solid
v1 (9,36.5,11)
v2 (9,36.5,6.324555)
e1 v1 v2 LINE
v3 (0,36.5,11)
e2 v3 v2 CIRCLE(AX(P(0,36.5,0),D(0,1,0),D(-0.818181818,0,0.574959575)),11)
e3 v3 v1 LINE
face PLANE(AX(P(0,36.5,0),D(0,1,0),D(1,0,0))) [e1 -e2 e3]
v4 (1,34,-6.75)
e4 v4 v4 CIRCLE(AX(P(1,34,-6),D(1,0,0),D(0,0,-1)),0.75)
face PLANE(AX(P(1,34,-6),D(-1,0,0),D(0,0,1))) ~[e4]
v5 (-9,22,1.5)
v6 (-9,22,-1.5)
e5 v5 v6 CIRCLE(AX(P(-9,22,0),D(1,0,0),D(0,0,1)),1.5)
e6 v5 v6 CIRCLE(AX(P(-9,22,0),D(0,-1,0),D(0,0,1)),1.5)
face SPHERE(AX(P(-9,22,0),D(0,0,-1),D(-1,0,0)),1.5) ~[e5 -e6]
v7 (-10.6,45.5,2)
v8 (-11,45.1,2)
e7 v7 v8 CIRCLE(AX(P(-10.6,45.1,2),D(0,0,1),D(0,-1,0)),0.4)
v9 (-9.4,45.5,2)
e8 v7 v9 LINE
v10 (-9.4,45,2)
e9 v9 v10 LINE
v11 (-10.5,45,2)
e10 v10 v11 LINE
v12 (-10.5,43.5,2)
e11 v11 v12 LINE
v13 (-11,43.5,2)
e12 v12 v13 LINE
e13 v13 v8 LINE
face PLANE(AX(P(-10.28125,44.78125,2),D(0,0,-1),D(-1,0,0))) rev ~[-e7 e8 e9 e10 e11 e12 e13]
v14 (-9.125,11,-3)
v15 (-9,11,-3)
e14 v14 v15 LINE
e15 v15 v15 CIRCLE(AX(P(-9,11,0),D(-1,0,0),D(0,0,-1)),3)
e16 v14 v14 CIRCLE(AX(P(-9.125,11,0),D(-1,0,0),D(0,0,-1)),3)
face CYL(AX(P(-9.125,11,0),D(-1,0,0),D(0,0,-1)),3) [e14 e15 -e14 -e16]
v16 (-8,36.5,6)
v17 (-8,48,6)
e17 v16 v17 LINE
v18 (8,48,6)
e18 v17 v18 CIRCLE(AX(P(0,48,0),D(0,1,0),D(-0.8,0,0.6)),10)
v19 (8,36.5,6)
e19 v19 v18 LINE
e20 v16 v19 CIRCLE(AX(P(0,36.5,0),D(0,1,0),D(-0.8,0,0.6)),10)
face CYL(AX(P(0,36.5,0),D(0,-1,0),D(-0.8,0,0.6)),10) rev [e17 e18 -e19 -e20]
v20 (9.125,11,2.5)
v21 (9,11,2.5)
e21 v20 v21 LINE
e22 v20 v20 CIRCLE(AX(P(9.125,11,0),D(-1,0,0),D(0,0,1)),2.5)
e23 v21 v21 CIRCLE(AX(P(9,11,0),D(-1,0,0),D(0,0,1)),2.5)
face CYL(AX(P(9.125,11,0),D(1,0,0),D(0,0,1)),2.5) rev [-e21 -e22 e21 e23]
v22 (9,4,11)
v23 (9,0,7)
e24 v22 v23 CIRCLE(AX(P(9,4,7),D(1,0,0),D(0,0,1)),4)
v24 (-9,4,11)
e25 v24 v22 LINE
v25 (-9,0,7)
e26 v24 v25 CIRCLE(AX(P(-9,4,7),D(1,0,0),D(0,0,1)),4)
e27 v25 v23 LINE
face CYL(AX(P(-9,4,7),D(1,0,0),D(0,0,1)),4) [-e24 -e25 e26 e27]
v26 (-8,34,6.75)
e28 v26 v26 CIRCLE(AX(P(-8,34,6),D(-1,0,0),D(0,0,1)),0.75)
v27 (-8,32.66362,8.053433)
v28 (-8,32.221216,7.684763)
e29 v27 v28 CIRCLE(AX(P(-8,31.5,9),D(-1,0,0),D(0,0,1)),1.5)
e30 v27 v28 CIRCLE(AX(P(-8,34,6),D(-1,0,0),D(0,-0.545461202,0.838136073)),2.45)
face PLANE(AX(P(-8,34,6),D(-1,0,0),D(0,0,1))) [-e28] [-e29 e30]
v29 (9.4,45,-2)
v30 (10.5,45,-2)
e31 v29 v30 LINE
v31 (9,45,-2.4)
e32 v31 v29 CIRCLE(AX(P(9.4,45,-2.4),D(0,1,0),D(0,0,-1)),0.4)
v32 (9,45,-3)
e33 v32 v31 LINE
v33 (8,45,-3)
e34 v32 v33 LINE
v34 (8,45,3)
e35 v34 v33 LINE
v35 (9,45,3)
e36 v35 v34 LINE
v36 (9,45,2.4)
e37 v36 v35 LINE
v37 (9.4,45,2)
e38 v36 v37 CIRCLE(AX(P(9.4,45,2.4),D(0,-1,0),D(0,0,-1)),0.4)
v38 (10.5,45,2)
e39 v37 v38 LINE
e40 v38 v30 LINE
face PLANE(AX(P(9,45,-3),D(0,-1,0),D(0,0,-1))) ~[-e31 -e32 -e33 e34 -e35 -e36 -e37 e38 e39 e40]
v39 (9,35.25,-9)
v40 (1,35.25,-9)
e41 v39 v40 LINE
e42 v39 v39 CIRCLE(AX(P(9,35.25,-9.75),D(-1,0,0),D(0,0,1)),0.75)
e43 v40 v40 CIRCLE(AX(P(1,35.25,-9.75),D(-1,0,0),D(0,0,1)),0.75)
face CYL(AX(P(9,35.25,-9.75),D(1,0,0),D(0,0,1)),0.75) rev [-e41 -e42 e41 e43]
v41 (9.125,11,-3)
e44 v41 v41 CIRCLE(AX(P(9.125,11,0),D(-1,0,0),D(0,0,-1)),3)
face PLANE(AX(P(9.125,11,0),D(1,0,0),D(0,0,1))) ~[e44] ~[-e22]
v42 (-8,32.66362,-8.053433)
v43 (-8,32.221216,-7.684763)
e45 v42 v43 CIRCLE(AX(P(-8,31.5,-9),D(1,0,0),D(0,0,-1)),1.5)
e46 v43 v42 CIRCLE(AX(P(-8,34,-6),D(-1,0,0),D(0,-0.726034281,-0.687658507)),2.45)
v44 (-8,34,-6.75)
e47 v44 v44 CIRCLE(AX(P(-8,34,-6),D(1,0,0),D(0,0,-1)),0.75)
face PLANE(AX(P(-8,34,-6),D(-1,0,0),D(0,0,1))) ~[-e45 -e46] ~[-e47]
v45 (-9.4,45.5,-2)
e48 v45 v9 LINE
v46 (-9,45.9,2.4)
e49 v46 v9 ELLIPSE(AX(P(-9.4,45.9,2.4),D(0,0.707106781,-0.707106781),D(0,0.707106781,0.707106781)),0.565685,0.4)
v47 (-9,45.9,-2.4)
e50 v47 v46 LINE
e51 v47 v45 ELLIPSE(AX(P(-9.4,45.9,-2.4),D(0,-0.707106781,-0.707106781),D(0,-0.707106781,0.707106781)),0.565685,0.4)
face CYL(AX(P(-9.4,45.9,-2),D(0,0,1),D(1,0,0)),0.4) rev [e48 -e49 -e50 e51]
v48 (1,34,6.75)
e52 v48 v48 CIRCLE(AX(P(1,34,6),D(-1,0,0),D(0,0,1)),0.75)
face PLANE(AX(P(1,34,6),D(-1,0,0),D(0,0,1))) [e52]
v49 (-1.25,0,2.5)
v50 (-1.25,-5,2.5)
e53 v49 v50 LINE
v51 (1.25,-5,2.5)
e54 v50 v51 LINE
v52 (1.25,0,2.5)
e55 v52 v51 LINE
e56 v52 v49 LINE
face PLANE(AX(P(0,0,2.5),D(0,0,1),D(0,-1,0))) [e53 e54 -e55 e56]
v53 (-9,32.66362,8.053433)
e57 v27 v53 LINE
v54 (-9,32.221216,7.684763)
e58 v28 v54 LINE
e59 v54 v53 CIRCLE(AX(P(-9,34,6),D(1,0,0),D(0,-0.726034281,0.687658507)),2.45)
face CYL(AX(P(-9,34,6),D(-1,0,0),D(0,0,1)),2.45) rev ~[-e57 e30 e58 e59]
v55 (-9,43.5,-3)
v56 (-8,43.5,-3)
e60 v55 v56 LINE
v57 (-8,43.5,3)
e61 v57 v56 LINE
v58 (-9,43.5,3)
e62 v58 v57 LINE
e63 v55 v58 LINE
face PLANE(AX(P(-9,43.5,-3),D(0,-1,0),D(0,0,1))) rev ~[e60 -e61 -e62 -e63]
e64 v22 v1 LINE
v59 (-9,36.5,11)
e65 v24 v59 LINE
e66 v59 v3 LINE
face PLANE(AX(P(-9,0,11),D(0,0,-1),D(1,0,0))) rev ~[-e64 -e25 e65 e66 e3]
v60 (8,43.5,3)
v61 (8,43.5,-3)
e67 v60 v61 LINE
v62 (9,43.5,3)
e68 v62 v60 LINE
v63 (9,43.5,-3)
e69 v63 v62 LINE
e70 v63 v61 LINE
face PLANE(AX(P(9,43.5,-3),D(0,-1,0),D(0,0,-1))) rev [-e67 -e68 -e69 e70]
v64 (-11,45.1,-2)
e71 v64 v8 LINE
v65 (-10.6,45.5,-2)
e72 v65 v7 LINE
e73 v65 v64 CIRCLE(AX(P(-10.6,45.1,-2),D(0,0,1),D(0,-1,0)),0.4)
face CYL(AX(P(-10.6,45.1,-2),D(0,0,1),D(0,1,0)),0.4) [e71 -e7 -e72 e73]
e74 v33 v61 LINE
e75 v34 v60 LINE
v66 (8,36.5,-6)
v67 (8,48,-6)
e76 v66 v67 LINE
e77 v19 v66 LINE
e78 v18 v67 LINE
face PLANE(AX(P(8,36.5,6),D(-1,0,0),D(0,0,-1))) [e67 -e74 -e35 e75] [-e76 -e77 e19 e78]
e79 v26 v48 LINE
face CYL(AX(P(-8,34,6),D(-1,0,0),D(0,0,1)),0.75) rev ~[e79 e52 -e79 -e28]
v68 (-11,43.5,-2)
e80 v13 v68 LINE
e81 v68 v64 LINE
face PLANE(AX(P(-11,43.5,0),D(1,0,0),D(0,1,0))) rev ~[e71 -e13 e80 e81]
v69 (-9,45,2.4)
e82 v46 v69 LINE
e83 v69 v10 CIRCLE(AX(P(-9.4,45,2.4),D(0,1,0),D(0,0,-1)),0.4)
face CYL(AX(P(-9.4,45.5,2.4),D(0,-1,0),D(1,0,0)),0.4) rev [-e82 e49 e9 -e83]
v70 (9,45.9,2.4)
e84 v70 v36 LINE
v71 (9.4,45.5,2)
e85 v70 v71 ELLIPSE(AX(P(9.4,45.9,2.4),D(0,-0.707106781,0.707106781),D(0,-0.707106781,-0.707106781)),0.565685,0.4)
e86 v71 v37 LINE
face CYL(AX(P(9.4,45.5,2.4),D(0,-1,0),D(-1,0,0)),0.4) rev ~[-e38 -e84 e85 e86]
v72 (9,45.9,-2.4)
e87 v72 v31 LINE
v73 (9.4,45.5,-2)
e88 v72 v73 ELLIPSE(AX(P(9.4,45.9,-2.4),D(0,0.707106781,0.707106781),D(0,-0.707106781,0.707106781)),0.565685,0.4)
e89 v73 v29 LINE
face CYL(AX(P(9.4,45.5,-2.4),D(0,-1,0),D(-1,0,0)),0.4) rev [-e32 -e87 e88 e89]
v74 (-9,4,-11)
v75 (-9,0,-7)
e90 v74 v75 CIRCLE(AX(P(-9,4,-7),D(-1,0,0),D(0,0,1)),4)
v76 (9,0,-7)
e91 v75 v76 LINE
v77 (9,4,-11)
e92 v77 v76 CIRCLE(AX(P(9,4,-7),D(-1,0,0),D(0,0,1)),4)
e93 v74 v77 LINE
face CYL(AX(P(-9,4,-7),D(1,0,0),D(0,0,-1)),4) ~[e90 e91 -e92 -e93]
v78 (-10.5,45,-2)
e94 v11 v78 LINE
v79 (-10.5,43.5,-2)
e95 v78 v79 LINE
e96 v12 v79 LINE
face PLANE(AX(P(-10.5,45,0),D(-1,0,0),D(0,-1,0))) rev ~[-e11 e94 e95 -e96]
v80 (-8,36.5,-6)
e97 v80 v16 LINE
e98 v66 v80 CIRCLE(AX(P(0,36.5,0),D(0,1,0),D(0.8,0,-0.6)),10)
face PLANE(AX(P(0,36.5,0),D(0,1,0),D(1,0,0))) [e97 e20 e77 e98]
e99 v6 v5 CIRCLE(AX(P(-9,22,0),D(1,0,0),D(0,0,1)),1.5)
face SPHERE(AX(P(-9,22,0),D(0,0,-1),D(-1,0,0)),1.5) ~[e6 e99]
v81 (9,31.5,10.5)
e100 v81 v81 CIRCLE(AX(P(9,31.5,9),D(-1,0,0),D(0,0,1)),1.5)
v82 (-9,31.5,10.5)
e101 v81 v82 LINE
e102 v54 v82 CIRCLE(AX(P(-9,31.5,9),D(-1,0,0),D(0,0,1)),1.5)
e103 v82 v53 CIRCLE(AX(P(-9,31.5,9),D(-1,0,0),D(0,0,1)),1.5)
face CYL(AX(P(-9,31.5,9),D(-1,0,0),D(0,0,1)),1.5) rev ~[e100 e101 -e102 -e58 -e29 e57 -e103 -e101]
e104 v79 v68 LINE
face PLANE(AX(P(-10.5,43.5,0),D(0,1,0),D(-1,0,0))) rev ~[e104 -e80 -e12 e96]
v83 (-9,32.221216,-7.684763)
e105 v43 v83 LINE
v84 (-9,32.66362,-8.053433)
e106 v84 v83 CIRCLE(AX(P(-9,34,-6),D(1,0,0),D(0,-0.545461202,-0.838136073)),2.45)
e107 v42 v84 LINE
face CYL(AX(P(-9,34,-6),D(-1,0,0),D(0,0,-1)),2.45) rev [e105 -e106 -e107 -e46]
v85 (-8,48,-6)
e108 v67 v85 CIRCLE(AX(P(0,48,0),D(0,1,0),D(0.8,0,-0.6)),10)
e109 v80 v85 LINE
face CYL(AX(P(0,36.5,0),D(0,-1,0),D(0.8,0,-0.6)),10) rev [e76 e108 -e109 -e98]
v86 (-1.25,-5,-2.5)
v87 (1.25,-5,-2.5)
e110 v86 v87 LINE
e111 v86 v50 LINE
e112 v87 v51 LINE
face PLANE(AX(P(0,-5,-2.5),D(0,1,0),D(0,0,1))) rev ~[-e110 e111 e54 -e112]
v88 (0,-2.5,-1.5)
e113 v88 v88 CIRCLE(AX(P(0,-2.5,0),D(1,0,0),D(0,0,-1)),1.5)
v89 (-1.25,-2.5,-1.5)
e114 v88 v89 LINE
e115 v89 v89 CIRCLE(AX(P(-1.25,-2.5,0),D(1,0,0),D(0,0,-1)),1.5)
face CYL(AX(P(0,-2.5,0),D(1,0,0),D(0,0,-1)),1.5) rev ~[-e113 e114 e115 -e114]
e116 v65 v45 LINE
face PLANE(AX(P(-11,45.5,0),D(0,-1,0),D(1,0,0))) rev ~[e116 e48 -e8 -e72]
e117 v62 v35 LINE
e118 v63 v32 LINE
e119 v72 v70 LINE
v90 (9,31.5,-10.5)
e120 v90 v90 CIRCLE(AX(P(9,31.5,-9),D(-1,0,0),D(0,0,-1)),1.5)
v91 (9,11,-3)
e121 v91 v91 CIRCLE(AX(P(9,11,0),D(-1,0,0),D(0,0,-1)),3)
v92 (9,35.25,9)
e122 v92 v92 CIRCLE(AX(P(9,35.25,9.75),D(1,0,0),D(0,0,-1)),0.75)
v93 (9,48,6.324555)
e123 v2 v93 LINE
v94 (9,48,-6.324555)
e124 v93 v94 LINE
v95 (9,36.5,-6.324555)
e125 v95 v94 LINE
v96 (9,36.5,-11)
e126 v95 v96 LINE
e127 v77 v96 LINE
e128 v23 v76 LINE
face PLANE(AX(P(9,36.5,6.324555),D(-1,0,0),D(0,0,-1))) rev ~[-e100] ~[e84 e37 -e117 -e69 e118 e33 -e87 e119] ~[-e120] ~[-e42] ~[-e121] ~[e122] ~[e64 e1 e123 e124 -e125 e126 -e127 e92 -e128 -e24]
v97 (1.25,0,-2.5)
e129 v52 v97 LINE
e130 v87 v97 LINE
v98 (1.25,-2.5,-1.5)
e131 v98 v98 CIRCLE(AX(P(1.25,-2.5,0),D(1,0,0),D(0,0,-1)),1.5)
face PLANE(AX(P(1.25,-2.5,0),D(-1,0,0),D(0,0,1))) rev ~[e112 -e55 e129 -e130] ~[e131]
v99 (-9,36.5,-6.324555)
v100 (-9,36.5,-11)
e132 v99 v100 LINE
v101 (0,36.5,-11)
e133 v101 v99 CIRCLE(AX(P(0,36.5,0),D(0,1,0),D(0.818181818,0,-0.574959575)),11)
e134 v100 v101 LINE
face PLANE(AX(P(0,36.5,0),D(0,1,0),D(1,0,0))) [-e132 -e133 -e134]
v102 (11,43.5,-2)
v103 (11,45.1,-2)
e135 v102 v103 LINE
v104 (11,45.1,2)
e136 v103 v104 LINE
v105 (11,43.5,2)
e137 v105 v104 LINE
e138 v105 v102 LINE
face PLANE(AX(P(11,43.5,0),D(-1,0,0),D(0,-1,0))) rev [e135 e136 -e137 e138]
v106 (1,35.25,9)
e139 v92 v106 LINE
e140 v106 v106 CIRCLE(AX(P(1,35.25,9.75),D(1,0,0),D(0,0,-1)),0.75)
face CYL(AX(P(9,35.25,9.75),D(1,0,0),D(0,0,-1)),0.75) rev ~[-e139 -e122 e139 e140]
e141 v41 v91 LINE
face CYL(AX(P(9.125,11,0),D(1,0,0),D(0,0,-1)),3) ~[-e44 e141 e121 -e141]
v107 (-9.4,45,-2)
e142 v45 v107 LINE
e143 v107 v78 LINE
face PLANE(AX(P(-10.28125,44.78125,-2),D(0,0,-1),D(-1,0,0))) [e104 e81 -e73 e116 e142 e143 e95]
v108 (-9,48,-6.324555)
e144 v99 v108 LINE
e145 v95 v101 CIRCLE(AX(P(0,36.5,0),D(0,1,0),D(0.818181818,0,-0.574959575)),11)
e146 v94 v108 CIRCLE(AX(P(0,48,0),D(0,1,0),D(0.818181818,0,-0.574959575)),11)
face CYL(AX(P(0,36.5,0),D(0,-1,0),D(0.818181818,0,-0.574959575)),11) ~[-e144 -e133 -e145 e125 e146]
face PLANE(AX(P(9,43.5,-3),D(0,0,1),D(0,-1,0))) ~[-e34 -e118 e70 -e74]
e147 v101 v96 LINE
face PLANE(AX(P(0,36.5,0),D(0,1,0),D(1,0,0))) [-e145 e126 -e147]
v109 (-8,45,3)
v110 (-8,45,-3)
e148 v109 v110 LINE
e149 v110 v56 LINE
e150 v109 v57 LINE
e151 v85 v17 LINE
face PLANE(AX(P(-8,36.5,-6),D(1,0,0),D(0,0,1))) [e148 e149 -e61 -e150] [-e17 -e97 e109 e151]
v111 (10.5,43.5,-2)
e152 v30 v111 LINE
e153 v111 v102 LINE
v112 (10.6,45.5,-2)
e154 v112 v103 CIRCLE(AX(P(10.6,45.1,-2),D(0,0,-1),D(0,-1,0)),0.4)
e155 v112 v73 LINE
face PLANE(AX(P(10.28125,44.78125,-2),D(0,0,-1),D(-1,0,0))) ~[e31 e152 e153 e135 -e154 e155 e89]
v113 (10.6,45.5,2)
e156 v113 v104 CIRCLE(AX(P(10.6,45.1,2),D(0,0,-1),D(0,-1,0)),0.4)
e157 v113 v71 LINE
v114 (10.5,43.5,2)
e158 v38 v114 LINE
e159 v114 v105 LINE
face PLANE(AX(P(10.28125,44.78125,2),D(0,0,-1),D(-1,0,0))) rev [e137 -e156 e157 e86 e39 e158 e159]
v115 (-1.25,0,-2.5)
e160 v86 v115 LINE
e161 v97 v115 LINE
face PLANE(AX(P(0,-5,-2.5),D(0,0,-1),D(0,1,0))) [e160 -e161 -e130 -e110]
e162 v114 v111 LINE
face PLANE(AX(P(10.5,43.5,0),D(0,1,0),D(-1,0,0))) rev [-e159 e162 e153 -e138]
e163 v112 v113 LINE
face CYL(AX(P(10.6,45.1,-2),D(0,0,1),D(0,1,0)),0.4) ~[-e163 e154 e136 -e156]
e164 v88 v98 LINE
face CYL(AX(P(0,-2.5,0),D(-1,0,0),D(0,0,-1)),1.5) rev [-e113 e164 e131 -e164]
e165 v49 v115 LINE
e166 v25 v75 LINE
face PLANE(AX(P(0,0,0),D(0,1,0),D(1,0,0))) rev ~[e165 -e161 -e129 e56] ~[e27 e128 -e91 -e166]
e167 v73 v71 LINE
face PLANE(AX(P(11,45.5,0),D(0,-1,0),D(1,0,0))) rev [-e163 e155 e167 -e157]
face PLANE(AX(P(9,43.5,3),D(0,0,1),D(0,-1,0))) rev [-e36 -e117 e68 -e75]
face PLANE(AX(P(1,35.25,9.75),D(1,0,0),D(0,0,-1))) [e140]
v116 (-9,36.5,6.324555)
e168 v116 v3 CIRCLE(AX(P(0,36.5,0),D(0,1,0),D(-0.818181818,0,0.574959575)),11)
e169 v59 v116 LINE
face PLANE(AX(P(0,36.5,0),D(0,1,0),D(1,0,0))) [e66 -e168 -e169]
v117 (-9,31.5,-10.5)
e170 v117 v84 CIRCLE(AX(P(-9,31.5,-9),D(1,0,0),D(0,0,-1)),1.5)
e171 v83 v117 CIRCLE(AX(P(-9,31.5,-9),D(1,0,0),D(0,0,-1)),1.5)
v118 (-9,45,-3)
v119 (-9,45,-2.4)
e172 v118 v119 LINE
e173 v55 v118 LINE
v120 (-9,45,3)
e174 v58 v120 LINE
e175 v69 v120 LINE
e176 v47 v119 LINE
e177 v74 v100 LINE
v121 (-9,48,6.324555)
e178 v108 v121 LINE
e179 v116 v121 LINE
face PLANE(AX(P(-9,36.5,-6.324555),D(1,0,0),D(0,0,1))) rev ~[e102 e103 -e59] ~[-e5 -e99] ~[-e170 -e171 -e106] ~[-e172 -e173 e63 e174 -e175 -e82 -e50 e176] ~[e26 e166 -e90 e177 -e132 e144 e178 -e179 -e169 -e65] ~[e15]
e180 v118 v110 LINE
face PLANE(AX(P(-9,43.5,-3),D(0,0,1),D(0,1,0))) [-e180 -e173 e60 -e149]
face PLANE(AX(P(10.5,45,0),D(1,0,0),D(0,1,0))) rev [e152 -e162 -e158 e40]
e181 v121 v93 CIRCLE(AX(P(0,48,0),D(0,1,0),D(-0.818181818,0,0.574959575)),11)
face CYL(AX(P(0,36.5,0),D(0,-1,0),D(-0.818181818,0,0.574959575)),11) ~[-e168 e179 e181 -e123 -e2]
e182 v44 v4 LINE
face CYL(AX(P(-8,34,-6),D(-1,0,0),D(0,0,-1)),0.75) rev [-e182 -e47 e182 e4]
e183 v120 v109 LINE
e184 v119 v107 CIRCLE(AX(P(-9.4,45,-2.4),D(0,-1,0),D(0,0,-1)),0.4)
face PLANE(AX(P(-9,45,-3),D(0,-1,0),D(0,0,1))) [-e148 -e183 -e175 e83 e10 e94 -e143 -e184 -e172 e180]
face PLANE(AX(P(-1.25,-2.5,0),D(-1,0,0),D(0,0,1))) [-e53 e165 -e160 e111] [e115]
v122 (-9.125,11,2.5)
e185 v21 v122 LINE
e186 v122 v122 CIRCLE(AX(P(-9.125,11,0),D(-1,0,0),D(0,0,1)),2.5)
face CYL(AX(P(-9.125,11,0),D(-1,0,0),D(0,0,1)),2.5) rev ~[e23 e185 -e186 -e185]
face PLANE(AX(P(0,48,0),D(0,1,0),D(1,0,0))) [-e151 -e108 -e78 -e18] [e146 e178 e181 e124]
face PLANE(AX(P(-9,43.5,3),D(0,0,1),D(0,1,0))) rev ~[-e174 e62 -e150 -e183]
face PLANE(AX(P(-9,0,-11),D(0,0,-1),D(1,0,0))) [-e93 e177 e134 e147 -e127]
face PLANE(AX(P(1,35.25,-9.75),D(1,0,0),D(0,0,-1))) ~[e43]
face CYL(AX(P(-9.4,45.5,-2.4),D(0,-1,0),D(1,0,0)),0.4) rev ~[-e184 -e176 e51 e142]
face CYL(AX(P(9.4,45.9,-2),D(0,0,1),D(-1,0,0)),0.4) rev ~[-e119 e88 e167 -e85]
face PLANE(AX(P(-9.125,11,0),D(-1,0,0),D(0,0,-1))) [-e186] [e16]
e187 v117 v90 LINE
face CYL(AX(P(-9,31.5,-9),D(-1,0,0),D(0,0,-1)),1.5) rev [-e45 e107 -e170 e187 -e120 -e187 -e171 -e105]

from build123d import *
from build123d.topology import SkipClean

# Parameters (mm, degrees)
SKETCH1_W           = 18
SKETCH1_H           = 22
BOSS_EXTRUDE1_DEPTH = 36.5
FILLET1_R           = 4
BOSS_EXTRUDE2_DEPTH = 11.5
BOSS_EXTRUDE3_DEPTH = 2
SKETCH4_W           = 6
SKETCH4_H           = 1.5
CUT_EXTRUDE1_DEPTH  = 4
FILLET2_R           = 0.4
FILLET3_R           = 0.4
FILLET4_R           = 0.4
SKETCH5_R           = 1.5
CUT_EXTRUDE2_DEPTH  = 54.150729064
SKETCH5_3_R         = 1.5
SKETCH5_3_R_2       = 2.45
SKETCH5_3_R_3       = 2
CUT_EXTRUDE3_DEPTH  = 1
SKETCH6_R           = 0.75
CUT_EXTRUDE4_DEPTH  = 9
SKETCH7_R           = 0.75
CUT_EXTRUDE5_DEPTH  = 8
SKETCH8_R           = 2.5
CUT_EXTRUDE6_DEPTH  = 54.150729064
BOSS_EXTRUDE4_START = 0.125
SKETCH8_3_R         = 3
SKETCH8_3_R_2       = 2.5
BOSS_EXTRUDE4_DEPTH = 0.125
SKETCH11_R          = 1.5
BOSS_EXTRUDE5_DEPTH = 1.25


with BuildPart() as part:
    # Sketch1 → Boss-Extrude1 (new body)
    with BuildSketch(Plane(origin=(0, 0, 0), x_dir=(1, 0, 0), z_dir=(0, 1, 0))):
        Rectangle(SKETCH1_W, SKETCH1_H)
    extrude(amount=BOSS_EXTRUDE1_DEPTH)

    # Fillet1
    fillet1_edges = [part.edges().sort_by_distance(p)[0] for p in [
        (0, 0, 11),
        (0, 0, -11),
    ]]
    fillet(fillet1_edges, radius=FILLET1_R)

    # Sketch2 → Boss-Extrude2 (add)
    with BuildSketch(Plane(origin=(0, 36.5, 0), x_dir=(1, 0, 0), z_dir=(0, 1, 0))):
        with BuildLine():
            Line((-9, 6.32455532), (-9, -6.32455532))
            ThreePointArc((-9, -6.32455532), (0, -11), (9, -6.32455532))
            Line((9, -6.32455532), (9, 6.32455532))
            ThreePointArc((9, 6.32455532), (0, 11), (-9, 6.32455532))
        make_face()
        with BuildLine():
            Line((-8, 6), (-8, -6))
            ThreePointArc((-8, -6), (0, -10), (8, -6))
            Line((8, -6), (8, 6))
            ThreePointArc((8, 6), (0, 10), (-8, 6))
        make_face(mode=Mode.SUBTRACT)
    extrude(amount=BOSS_EXTRUDE2_DEPTH)

    # Sketch3 → Boss-Extrude3 (add, symmetric)
    with BuildSketch(Plane.XY):
        Polygon((-9, 45), (-10.5, 45), (-10.5, 43.5), (-11, 43.5), (-11, 45.5), (-9, 45.5), align=None)
    boss_extrude3 = extrude(amount=BOSS_EXTRUDE3_DEPTH, both=True)

    # Sketch4 → Cut-Extrude1 (cut)
    with BuildSketch(Plane.ZY.offset(9)):
        with Locations((0, 44.25)):
            Rectangle(SKETCH4_W, SKETCH4_H)
    cut_extrude1 = extrude(amount=-CUT_EXTRUDE1_DEPTH, mode=Mode.SUBTRACT)

    # Fillet2
    fillet2_edges = [part.edges().sort_by_distance(p)[0] for p in [
        (-9, 45.25, -2),
        (-9, 45.5, 0),
        (-9, 45.25, 2),
    ]]
    fillet(fillet2_edges, radius=FILLET2_R)

    # Fillet3
    fillet3_edges = [part.edges().sort_by_distance(p)[0] for p in [
        (-11, 45.5, 0),
    ]]
    fillet(fillet3_edges, radius=FILLET3_R)

    # Mirror1: Boss-Extrude3, Cut-Extrude1 across plane
    add(boss_extrude3.mirror(Plane(origin=(0, 0, 0), x_dir=(0, 0, 1), z_dir=(1, 0, 0))))
    add(cut_extrude1.mirror(Plane(origin=(0, 0, 0), x_dir=(0, 0, 1), z_dir=(1, 0, 0))), mode=Mode.SUBTRACT)

    # Fillet4
    fillet4_edges = [part.edges().sort_by_distance(p)[0] for p in [
        (9, 45.25, 2),
        (9, 45.5, 0),
        (11, 45.5, 0),
        (9, 45.25, -2),
    ]]
    fillet(fillet4_edges, radius=FILLET4_R)

    # Sketch5 → Cut-Extrude2 (cut, through all)
    with BuildSketch(Plane.ZY.offset(9)):
        with Locations((9, 31.5)):
            Circle(SKETCH5_R)
    cut_extrude2 = extrude(amount=-CUT_EXTRUDE2_DEPTH, mode=Mode.SUBTRACT)

    # Sketch5<3> → Cut-Extrude3 (cut)
    # profile 1 of 5: a face of its own
    with BuildSketch(Plane.ZY.offset(9)):
        with Locations((9, 31.5)):
            Circle(SKETCH5_3_R)
    # profile 2 of 5: a face of its own
    with BuildSketch(Plane.ZY.offset(9)):
        with Locations((6, 34)):
            Circle(SKETCH5_3_R_2)
        with Locations((6, 34)):
            Circle(SKETCH5_3_R_3, mode=Mode.SUBTRACT)
    # profile 3 of 5: a face of its own
    with BuildSketch(Plane.ZY.offset(9)):
        with Locations((6, 34)):
            Circle(SKETCH5_3_R_3)
    # profile 4 of 5: a face of its own
    with BuildSketch(Plane.ZY.offset(9)):
        with Locations((9, 31.5)):
            Circle(SKETCH5_3_R)
    # profile 5 of 5: a face of its own
    with BuildSketch(Plane.ZY.offset(9)):
        with Locations((6, 34)):
            Circle(SKETCH5_3_R_2)
    cut_extrude3 = extrude(amount=-CUT_EXTRUDE3_DEPTH, mode=Mode.SUBTRACT)

    # Sketch6 → Cut-Extrude4 (cut)
    with BuildSketch(Plane.ZY.offset(8)):
        with Locations((6, 34)):
            Circle(SKETCH6_R)
    cut_extrude4 = extrude(amount=-CUT_EXTRUDE4_DEPTH, mode=Mode.SUBTRACT)

    # Mirror4: Cut-Extrude2, Cut-Extrude3, Cut-Extrude4 across plane
    add(cut_extrude2.mirror(Plane.XY), mode=Mode.SUBTRACT)
    add(cut_extrude3.mirror(Plane.XY), mode=Mode.SUBTRACT)
    add(cut_extrude4.mirror(Plane.XY), mode=Mode.SUBTRACT)

    # Sketch7 → Cut-Extrude5 (cut)
    with BuildSketch(Plane(origin=(9, 0, 0), x_dir=(0, 0, -1), z_dir=(1, 0, 0))):
        with Locations((-9.75, 35.25)):
            Circle(SKETCH7_R)
    cut_extrude5 = extrude(amount=-CUT_EXTRUDE5_DEPTH, mode=Mode.SUBTRACT)

    # Mirror5: Cut-Extrude5 across plane
    add(cut_extrude5.mirror(Plane.XY), mode=Mode.SUBTRACT)

    # Sketch8 → Cut-Extrude6 (cut, through all)
    with BuildSketch(Plane.ZY.offset(9)):
        with Locations((0, 11)):
            Circle(SKETCH8_R)
    extrude(amount=-CUT_EXTRUDE6_DEPTH, mode=Mode.SUBTRACT)

    # Sketch8<3> → Boss-Extrude4 (add)
    with BuildSketch(Plane.ZY.offset(9).offset(BOSS_EXTRUDE4_START)):
        with Locations(Location((0, 11, 0), (0, 0, 180))):
            Circle(SKETCH8_3_R)
        with Locations((0, 11)):
            Circle(SKETCH8_3_R_2, mode=Mode.SUBTRACT)
    boss_extrude4 = extrude(amount=-BOSS_EXTRUDE4_DEPTH)

    # Sketch9 → Revolve1 (revolve)
    with SkipClean():  # the faces are left unmerged after this step: merging them gives an invalid solid
        with BuildSketch(Plane(origin=(0, 22, 0), x_dir=(-1, 0, 0), z_dir=(0, -1, 0))):
            with BuildLine():
                Line((9, 1.5), (9, -1.5))
                ThreePointArc((9, -1.5), (10.5, 0), (9, 1.5))
            make_face()
        revolve(axis=Axis((-9, 22, -1.5), (0, 0, 1)))

    # Mirror6: Boss-Extrude4 across plane
    with SkipClean():  # the faces are left unmerged after this step: merging them gives an invalid solid
        add(boss_extrude4.mirror(Plane(origin=(0, 0, 0), x_dir=(0, 0, 1), z_dir=(1, 0, 0))))

    # Sketch11 → Boss-Extrude5 (add, symmetric)
    with SkipClean():  # the faces are left unmerged after this step: merging them gives an invalid solid
        with BuildSketch(Plane(origin=(0, 0, 0), x_dir=(0, 0, -1), z_dir=(1, 0, 0))):
            Polygon((-2.5, -2.810816006), (-2.5, 0), (2.5, 0), (2.5, -2.810816006), (2.5, -5), (-2.5, -5), align=None)
            with Locations((0, -2.5)):
                Circle(SKETCH11_R, mode=Mode.SUBTRACT)
        extrude(amount=BOSS_EXTRUDE5_DEPTH, both=True)


solid = part.part
